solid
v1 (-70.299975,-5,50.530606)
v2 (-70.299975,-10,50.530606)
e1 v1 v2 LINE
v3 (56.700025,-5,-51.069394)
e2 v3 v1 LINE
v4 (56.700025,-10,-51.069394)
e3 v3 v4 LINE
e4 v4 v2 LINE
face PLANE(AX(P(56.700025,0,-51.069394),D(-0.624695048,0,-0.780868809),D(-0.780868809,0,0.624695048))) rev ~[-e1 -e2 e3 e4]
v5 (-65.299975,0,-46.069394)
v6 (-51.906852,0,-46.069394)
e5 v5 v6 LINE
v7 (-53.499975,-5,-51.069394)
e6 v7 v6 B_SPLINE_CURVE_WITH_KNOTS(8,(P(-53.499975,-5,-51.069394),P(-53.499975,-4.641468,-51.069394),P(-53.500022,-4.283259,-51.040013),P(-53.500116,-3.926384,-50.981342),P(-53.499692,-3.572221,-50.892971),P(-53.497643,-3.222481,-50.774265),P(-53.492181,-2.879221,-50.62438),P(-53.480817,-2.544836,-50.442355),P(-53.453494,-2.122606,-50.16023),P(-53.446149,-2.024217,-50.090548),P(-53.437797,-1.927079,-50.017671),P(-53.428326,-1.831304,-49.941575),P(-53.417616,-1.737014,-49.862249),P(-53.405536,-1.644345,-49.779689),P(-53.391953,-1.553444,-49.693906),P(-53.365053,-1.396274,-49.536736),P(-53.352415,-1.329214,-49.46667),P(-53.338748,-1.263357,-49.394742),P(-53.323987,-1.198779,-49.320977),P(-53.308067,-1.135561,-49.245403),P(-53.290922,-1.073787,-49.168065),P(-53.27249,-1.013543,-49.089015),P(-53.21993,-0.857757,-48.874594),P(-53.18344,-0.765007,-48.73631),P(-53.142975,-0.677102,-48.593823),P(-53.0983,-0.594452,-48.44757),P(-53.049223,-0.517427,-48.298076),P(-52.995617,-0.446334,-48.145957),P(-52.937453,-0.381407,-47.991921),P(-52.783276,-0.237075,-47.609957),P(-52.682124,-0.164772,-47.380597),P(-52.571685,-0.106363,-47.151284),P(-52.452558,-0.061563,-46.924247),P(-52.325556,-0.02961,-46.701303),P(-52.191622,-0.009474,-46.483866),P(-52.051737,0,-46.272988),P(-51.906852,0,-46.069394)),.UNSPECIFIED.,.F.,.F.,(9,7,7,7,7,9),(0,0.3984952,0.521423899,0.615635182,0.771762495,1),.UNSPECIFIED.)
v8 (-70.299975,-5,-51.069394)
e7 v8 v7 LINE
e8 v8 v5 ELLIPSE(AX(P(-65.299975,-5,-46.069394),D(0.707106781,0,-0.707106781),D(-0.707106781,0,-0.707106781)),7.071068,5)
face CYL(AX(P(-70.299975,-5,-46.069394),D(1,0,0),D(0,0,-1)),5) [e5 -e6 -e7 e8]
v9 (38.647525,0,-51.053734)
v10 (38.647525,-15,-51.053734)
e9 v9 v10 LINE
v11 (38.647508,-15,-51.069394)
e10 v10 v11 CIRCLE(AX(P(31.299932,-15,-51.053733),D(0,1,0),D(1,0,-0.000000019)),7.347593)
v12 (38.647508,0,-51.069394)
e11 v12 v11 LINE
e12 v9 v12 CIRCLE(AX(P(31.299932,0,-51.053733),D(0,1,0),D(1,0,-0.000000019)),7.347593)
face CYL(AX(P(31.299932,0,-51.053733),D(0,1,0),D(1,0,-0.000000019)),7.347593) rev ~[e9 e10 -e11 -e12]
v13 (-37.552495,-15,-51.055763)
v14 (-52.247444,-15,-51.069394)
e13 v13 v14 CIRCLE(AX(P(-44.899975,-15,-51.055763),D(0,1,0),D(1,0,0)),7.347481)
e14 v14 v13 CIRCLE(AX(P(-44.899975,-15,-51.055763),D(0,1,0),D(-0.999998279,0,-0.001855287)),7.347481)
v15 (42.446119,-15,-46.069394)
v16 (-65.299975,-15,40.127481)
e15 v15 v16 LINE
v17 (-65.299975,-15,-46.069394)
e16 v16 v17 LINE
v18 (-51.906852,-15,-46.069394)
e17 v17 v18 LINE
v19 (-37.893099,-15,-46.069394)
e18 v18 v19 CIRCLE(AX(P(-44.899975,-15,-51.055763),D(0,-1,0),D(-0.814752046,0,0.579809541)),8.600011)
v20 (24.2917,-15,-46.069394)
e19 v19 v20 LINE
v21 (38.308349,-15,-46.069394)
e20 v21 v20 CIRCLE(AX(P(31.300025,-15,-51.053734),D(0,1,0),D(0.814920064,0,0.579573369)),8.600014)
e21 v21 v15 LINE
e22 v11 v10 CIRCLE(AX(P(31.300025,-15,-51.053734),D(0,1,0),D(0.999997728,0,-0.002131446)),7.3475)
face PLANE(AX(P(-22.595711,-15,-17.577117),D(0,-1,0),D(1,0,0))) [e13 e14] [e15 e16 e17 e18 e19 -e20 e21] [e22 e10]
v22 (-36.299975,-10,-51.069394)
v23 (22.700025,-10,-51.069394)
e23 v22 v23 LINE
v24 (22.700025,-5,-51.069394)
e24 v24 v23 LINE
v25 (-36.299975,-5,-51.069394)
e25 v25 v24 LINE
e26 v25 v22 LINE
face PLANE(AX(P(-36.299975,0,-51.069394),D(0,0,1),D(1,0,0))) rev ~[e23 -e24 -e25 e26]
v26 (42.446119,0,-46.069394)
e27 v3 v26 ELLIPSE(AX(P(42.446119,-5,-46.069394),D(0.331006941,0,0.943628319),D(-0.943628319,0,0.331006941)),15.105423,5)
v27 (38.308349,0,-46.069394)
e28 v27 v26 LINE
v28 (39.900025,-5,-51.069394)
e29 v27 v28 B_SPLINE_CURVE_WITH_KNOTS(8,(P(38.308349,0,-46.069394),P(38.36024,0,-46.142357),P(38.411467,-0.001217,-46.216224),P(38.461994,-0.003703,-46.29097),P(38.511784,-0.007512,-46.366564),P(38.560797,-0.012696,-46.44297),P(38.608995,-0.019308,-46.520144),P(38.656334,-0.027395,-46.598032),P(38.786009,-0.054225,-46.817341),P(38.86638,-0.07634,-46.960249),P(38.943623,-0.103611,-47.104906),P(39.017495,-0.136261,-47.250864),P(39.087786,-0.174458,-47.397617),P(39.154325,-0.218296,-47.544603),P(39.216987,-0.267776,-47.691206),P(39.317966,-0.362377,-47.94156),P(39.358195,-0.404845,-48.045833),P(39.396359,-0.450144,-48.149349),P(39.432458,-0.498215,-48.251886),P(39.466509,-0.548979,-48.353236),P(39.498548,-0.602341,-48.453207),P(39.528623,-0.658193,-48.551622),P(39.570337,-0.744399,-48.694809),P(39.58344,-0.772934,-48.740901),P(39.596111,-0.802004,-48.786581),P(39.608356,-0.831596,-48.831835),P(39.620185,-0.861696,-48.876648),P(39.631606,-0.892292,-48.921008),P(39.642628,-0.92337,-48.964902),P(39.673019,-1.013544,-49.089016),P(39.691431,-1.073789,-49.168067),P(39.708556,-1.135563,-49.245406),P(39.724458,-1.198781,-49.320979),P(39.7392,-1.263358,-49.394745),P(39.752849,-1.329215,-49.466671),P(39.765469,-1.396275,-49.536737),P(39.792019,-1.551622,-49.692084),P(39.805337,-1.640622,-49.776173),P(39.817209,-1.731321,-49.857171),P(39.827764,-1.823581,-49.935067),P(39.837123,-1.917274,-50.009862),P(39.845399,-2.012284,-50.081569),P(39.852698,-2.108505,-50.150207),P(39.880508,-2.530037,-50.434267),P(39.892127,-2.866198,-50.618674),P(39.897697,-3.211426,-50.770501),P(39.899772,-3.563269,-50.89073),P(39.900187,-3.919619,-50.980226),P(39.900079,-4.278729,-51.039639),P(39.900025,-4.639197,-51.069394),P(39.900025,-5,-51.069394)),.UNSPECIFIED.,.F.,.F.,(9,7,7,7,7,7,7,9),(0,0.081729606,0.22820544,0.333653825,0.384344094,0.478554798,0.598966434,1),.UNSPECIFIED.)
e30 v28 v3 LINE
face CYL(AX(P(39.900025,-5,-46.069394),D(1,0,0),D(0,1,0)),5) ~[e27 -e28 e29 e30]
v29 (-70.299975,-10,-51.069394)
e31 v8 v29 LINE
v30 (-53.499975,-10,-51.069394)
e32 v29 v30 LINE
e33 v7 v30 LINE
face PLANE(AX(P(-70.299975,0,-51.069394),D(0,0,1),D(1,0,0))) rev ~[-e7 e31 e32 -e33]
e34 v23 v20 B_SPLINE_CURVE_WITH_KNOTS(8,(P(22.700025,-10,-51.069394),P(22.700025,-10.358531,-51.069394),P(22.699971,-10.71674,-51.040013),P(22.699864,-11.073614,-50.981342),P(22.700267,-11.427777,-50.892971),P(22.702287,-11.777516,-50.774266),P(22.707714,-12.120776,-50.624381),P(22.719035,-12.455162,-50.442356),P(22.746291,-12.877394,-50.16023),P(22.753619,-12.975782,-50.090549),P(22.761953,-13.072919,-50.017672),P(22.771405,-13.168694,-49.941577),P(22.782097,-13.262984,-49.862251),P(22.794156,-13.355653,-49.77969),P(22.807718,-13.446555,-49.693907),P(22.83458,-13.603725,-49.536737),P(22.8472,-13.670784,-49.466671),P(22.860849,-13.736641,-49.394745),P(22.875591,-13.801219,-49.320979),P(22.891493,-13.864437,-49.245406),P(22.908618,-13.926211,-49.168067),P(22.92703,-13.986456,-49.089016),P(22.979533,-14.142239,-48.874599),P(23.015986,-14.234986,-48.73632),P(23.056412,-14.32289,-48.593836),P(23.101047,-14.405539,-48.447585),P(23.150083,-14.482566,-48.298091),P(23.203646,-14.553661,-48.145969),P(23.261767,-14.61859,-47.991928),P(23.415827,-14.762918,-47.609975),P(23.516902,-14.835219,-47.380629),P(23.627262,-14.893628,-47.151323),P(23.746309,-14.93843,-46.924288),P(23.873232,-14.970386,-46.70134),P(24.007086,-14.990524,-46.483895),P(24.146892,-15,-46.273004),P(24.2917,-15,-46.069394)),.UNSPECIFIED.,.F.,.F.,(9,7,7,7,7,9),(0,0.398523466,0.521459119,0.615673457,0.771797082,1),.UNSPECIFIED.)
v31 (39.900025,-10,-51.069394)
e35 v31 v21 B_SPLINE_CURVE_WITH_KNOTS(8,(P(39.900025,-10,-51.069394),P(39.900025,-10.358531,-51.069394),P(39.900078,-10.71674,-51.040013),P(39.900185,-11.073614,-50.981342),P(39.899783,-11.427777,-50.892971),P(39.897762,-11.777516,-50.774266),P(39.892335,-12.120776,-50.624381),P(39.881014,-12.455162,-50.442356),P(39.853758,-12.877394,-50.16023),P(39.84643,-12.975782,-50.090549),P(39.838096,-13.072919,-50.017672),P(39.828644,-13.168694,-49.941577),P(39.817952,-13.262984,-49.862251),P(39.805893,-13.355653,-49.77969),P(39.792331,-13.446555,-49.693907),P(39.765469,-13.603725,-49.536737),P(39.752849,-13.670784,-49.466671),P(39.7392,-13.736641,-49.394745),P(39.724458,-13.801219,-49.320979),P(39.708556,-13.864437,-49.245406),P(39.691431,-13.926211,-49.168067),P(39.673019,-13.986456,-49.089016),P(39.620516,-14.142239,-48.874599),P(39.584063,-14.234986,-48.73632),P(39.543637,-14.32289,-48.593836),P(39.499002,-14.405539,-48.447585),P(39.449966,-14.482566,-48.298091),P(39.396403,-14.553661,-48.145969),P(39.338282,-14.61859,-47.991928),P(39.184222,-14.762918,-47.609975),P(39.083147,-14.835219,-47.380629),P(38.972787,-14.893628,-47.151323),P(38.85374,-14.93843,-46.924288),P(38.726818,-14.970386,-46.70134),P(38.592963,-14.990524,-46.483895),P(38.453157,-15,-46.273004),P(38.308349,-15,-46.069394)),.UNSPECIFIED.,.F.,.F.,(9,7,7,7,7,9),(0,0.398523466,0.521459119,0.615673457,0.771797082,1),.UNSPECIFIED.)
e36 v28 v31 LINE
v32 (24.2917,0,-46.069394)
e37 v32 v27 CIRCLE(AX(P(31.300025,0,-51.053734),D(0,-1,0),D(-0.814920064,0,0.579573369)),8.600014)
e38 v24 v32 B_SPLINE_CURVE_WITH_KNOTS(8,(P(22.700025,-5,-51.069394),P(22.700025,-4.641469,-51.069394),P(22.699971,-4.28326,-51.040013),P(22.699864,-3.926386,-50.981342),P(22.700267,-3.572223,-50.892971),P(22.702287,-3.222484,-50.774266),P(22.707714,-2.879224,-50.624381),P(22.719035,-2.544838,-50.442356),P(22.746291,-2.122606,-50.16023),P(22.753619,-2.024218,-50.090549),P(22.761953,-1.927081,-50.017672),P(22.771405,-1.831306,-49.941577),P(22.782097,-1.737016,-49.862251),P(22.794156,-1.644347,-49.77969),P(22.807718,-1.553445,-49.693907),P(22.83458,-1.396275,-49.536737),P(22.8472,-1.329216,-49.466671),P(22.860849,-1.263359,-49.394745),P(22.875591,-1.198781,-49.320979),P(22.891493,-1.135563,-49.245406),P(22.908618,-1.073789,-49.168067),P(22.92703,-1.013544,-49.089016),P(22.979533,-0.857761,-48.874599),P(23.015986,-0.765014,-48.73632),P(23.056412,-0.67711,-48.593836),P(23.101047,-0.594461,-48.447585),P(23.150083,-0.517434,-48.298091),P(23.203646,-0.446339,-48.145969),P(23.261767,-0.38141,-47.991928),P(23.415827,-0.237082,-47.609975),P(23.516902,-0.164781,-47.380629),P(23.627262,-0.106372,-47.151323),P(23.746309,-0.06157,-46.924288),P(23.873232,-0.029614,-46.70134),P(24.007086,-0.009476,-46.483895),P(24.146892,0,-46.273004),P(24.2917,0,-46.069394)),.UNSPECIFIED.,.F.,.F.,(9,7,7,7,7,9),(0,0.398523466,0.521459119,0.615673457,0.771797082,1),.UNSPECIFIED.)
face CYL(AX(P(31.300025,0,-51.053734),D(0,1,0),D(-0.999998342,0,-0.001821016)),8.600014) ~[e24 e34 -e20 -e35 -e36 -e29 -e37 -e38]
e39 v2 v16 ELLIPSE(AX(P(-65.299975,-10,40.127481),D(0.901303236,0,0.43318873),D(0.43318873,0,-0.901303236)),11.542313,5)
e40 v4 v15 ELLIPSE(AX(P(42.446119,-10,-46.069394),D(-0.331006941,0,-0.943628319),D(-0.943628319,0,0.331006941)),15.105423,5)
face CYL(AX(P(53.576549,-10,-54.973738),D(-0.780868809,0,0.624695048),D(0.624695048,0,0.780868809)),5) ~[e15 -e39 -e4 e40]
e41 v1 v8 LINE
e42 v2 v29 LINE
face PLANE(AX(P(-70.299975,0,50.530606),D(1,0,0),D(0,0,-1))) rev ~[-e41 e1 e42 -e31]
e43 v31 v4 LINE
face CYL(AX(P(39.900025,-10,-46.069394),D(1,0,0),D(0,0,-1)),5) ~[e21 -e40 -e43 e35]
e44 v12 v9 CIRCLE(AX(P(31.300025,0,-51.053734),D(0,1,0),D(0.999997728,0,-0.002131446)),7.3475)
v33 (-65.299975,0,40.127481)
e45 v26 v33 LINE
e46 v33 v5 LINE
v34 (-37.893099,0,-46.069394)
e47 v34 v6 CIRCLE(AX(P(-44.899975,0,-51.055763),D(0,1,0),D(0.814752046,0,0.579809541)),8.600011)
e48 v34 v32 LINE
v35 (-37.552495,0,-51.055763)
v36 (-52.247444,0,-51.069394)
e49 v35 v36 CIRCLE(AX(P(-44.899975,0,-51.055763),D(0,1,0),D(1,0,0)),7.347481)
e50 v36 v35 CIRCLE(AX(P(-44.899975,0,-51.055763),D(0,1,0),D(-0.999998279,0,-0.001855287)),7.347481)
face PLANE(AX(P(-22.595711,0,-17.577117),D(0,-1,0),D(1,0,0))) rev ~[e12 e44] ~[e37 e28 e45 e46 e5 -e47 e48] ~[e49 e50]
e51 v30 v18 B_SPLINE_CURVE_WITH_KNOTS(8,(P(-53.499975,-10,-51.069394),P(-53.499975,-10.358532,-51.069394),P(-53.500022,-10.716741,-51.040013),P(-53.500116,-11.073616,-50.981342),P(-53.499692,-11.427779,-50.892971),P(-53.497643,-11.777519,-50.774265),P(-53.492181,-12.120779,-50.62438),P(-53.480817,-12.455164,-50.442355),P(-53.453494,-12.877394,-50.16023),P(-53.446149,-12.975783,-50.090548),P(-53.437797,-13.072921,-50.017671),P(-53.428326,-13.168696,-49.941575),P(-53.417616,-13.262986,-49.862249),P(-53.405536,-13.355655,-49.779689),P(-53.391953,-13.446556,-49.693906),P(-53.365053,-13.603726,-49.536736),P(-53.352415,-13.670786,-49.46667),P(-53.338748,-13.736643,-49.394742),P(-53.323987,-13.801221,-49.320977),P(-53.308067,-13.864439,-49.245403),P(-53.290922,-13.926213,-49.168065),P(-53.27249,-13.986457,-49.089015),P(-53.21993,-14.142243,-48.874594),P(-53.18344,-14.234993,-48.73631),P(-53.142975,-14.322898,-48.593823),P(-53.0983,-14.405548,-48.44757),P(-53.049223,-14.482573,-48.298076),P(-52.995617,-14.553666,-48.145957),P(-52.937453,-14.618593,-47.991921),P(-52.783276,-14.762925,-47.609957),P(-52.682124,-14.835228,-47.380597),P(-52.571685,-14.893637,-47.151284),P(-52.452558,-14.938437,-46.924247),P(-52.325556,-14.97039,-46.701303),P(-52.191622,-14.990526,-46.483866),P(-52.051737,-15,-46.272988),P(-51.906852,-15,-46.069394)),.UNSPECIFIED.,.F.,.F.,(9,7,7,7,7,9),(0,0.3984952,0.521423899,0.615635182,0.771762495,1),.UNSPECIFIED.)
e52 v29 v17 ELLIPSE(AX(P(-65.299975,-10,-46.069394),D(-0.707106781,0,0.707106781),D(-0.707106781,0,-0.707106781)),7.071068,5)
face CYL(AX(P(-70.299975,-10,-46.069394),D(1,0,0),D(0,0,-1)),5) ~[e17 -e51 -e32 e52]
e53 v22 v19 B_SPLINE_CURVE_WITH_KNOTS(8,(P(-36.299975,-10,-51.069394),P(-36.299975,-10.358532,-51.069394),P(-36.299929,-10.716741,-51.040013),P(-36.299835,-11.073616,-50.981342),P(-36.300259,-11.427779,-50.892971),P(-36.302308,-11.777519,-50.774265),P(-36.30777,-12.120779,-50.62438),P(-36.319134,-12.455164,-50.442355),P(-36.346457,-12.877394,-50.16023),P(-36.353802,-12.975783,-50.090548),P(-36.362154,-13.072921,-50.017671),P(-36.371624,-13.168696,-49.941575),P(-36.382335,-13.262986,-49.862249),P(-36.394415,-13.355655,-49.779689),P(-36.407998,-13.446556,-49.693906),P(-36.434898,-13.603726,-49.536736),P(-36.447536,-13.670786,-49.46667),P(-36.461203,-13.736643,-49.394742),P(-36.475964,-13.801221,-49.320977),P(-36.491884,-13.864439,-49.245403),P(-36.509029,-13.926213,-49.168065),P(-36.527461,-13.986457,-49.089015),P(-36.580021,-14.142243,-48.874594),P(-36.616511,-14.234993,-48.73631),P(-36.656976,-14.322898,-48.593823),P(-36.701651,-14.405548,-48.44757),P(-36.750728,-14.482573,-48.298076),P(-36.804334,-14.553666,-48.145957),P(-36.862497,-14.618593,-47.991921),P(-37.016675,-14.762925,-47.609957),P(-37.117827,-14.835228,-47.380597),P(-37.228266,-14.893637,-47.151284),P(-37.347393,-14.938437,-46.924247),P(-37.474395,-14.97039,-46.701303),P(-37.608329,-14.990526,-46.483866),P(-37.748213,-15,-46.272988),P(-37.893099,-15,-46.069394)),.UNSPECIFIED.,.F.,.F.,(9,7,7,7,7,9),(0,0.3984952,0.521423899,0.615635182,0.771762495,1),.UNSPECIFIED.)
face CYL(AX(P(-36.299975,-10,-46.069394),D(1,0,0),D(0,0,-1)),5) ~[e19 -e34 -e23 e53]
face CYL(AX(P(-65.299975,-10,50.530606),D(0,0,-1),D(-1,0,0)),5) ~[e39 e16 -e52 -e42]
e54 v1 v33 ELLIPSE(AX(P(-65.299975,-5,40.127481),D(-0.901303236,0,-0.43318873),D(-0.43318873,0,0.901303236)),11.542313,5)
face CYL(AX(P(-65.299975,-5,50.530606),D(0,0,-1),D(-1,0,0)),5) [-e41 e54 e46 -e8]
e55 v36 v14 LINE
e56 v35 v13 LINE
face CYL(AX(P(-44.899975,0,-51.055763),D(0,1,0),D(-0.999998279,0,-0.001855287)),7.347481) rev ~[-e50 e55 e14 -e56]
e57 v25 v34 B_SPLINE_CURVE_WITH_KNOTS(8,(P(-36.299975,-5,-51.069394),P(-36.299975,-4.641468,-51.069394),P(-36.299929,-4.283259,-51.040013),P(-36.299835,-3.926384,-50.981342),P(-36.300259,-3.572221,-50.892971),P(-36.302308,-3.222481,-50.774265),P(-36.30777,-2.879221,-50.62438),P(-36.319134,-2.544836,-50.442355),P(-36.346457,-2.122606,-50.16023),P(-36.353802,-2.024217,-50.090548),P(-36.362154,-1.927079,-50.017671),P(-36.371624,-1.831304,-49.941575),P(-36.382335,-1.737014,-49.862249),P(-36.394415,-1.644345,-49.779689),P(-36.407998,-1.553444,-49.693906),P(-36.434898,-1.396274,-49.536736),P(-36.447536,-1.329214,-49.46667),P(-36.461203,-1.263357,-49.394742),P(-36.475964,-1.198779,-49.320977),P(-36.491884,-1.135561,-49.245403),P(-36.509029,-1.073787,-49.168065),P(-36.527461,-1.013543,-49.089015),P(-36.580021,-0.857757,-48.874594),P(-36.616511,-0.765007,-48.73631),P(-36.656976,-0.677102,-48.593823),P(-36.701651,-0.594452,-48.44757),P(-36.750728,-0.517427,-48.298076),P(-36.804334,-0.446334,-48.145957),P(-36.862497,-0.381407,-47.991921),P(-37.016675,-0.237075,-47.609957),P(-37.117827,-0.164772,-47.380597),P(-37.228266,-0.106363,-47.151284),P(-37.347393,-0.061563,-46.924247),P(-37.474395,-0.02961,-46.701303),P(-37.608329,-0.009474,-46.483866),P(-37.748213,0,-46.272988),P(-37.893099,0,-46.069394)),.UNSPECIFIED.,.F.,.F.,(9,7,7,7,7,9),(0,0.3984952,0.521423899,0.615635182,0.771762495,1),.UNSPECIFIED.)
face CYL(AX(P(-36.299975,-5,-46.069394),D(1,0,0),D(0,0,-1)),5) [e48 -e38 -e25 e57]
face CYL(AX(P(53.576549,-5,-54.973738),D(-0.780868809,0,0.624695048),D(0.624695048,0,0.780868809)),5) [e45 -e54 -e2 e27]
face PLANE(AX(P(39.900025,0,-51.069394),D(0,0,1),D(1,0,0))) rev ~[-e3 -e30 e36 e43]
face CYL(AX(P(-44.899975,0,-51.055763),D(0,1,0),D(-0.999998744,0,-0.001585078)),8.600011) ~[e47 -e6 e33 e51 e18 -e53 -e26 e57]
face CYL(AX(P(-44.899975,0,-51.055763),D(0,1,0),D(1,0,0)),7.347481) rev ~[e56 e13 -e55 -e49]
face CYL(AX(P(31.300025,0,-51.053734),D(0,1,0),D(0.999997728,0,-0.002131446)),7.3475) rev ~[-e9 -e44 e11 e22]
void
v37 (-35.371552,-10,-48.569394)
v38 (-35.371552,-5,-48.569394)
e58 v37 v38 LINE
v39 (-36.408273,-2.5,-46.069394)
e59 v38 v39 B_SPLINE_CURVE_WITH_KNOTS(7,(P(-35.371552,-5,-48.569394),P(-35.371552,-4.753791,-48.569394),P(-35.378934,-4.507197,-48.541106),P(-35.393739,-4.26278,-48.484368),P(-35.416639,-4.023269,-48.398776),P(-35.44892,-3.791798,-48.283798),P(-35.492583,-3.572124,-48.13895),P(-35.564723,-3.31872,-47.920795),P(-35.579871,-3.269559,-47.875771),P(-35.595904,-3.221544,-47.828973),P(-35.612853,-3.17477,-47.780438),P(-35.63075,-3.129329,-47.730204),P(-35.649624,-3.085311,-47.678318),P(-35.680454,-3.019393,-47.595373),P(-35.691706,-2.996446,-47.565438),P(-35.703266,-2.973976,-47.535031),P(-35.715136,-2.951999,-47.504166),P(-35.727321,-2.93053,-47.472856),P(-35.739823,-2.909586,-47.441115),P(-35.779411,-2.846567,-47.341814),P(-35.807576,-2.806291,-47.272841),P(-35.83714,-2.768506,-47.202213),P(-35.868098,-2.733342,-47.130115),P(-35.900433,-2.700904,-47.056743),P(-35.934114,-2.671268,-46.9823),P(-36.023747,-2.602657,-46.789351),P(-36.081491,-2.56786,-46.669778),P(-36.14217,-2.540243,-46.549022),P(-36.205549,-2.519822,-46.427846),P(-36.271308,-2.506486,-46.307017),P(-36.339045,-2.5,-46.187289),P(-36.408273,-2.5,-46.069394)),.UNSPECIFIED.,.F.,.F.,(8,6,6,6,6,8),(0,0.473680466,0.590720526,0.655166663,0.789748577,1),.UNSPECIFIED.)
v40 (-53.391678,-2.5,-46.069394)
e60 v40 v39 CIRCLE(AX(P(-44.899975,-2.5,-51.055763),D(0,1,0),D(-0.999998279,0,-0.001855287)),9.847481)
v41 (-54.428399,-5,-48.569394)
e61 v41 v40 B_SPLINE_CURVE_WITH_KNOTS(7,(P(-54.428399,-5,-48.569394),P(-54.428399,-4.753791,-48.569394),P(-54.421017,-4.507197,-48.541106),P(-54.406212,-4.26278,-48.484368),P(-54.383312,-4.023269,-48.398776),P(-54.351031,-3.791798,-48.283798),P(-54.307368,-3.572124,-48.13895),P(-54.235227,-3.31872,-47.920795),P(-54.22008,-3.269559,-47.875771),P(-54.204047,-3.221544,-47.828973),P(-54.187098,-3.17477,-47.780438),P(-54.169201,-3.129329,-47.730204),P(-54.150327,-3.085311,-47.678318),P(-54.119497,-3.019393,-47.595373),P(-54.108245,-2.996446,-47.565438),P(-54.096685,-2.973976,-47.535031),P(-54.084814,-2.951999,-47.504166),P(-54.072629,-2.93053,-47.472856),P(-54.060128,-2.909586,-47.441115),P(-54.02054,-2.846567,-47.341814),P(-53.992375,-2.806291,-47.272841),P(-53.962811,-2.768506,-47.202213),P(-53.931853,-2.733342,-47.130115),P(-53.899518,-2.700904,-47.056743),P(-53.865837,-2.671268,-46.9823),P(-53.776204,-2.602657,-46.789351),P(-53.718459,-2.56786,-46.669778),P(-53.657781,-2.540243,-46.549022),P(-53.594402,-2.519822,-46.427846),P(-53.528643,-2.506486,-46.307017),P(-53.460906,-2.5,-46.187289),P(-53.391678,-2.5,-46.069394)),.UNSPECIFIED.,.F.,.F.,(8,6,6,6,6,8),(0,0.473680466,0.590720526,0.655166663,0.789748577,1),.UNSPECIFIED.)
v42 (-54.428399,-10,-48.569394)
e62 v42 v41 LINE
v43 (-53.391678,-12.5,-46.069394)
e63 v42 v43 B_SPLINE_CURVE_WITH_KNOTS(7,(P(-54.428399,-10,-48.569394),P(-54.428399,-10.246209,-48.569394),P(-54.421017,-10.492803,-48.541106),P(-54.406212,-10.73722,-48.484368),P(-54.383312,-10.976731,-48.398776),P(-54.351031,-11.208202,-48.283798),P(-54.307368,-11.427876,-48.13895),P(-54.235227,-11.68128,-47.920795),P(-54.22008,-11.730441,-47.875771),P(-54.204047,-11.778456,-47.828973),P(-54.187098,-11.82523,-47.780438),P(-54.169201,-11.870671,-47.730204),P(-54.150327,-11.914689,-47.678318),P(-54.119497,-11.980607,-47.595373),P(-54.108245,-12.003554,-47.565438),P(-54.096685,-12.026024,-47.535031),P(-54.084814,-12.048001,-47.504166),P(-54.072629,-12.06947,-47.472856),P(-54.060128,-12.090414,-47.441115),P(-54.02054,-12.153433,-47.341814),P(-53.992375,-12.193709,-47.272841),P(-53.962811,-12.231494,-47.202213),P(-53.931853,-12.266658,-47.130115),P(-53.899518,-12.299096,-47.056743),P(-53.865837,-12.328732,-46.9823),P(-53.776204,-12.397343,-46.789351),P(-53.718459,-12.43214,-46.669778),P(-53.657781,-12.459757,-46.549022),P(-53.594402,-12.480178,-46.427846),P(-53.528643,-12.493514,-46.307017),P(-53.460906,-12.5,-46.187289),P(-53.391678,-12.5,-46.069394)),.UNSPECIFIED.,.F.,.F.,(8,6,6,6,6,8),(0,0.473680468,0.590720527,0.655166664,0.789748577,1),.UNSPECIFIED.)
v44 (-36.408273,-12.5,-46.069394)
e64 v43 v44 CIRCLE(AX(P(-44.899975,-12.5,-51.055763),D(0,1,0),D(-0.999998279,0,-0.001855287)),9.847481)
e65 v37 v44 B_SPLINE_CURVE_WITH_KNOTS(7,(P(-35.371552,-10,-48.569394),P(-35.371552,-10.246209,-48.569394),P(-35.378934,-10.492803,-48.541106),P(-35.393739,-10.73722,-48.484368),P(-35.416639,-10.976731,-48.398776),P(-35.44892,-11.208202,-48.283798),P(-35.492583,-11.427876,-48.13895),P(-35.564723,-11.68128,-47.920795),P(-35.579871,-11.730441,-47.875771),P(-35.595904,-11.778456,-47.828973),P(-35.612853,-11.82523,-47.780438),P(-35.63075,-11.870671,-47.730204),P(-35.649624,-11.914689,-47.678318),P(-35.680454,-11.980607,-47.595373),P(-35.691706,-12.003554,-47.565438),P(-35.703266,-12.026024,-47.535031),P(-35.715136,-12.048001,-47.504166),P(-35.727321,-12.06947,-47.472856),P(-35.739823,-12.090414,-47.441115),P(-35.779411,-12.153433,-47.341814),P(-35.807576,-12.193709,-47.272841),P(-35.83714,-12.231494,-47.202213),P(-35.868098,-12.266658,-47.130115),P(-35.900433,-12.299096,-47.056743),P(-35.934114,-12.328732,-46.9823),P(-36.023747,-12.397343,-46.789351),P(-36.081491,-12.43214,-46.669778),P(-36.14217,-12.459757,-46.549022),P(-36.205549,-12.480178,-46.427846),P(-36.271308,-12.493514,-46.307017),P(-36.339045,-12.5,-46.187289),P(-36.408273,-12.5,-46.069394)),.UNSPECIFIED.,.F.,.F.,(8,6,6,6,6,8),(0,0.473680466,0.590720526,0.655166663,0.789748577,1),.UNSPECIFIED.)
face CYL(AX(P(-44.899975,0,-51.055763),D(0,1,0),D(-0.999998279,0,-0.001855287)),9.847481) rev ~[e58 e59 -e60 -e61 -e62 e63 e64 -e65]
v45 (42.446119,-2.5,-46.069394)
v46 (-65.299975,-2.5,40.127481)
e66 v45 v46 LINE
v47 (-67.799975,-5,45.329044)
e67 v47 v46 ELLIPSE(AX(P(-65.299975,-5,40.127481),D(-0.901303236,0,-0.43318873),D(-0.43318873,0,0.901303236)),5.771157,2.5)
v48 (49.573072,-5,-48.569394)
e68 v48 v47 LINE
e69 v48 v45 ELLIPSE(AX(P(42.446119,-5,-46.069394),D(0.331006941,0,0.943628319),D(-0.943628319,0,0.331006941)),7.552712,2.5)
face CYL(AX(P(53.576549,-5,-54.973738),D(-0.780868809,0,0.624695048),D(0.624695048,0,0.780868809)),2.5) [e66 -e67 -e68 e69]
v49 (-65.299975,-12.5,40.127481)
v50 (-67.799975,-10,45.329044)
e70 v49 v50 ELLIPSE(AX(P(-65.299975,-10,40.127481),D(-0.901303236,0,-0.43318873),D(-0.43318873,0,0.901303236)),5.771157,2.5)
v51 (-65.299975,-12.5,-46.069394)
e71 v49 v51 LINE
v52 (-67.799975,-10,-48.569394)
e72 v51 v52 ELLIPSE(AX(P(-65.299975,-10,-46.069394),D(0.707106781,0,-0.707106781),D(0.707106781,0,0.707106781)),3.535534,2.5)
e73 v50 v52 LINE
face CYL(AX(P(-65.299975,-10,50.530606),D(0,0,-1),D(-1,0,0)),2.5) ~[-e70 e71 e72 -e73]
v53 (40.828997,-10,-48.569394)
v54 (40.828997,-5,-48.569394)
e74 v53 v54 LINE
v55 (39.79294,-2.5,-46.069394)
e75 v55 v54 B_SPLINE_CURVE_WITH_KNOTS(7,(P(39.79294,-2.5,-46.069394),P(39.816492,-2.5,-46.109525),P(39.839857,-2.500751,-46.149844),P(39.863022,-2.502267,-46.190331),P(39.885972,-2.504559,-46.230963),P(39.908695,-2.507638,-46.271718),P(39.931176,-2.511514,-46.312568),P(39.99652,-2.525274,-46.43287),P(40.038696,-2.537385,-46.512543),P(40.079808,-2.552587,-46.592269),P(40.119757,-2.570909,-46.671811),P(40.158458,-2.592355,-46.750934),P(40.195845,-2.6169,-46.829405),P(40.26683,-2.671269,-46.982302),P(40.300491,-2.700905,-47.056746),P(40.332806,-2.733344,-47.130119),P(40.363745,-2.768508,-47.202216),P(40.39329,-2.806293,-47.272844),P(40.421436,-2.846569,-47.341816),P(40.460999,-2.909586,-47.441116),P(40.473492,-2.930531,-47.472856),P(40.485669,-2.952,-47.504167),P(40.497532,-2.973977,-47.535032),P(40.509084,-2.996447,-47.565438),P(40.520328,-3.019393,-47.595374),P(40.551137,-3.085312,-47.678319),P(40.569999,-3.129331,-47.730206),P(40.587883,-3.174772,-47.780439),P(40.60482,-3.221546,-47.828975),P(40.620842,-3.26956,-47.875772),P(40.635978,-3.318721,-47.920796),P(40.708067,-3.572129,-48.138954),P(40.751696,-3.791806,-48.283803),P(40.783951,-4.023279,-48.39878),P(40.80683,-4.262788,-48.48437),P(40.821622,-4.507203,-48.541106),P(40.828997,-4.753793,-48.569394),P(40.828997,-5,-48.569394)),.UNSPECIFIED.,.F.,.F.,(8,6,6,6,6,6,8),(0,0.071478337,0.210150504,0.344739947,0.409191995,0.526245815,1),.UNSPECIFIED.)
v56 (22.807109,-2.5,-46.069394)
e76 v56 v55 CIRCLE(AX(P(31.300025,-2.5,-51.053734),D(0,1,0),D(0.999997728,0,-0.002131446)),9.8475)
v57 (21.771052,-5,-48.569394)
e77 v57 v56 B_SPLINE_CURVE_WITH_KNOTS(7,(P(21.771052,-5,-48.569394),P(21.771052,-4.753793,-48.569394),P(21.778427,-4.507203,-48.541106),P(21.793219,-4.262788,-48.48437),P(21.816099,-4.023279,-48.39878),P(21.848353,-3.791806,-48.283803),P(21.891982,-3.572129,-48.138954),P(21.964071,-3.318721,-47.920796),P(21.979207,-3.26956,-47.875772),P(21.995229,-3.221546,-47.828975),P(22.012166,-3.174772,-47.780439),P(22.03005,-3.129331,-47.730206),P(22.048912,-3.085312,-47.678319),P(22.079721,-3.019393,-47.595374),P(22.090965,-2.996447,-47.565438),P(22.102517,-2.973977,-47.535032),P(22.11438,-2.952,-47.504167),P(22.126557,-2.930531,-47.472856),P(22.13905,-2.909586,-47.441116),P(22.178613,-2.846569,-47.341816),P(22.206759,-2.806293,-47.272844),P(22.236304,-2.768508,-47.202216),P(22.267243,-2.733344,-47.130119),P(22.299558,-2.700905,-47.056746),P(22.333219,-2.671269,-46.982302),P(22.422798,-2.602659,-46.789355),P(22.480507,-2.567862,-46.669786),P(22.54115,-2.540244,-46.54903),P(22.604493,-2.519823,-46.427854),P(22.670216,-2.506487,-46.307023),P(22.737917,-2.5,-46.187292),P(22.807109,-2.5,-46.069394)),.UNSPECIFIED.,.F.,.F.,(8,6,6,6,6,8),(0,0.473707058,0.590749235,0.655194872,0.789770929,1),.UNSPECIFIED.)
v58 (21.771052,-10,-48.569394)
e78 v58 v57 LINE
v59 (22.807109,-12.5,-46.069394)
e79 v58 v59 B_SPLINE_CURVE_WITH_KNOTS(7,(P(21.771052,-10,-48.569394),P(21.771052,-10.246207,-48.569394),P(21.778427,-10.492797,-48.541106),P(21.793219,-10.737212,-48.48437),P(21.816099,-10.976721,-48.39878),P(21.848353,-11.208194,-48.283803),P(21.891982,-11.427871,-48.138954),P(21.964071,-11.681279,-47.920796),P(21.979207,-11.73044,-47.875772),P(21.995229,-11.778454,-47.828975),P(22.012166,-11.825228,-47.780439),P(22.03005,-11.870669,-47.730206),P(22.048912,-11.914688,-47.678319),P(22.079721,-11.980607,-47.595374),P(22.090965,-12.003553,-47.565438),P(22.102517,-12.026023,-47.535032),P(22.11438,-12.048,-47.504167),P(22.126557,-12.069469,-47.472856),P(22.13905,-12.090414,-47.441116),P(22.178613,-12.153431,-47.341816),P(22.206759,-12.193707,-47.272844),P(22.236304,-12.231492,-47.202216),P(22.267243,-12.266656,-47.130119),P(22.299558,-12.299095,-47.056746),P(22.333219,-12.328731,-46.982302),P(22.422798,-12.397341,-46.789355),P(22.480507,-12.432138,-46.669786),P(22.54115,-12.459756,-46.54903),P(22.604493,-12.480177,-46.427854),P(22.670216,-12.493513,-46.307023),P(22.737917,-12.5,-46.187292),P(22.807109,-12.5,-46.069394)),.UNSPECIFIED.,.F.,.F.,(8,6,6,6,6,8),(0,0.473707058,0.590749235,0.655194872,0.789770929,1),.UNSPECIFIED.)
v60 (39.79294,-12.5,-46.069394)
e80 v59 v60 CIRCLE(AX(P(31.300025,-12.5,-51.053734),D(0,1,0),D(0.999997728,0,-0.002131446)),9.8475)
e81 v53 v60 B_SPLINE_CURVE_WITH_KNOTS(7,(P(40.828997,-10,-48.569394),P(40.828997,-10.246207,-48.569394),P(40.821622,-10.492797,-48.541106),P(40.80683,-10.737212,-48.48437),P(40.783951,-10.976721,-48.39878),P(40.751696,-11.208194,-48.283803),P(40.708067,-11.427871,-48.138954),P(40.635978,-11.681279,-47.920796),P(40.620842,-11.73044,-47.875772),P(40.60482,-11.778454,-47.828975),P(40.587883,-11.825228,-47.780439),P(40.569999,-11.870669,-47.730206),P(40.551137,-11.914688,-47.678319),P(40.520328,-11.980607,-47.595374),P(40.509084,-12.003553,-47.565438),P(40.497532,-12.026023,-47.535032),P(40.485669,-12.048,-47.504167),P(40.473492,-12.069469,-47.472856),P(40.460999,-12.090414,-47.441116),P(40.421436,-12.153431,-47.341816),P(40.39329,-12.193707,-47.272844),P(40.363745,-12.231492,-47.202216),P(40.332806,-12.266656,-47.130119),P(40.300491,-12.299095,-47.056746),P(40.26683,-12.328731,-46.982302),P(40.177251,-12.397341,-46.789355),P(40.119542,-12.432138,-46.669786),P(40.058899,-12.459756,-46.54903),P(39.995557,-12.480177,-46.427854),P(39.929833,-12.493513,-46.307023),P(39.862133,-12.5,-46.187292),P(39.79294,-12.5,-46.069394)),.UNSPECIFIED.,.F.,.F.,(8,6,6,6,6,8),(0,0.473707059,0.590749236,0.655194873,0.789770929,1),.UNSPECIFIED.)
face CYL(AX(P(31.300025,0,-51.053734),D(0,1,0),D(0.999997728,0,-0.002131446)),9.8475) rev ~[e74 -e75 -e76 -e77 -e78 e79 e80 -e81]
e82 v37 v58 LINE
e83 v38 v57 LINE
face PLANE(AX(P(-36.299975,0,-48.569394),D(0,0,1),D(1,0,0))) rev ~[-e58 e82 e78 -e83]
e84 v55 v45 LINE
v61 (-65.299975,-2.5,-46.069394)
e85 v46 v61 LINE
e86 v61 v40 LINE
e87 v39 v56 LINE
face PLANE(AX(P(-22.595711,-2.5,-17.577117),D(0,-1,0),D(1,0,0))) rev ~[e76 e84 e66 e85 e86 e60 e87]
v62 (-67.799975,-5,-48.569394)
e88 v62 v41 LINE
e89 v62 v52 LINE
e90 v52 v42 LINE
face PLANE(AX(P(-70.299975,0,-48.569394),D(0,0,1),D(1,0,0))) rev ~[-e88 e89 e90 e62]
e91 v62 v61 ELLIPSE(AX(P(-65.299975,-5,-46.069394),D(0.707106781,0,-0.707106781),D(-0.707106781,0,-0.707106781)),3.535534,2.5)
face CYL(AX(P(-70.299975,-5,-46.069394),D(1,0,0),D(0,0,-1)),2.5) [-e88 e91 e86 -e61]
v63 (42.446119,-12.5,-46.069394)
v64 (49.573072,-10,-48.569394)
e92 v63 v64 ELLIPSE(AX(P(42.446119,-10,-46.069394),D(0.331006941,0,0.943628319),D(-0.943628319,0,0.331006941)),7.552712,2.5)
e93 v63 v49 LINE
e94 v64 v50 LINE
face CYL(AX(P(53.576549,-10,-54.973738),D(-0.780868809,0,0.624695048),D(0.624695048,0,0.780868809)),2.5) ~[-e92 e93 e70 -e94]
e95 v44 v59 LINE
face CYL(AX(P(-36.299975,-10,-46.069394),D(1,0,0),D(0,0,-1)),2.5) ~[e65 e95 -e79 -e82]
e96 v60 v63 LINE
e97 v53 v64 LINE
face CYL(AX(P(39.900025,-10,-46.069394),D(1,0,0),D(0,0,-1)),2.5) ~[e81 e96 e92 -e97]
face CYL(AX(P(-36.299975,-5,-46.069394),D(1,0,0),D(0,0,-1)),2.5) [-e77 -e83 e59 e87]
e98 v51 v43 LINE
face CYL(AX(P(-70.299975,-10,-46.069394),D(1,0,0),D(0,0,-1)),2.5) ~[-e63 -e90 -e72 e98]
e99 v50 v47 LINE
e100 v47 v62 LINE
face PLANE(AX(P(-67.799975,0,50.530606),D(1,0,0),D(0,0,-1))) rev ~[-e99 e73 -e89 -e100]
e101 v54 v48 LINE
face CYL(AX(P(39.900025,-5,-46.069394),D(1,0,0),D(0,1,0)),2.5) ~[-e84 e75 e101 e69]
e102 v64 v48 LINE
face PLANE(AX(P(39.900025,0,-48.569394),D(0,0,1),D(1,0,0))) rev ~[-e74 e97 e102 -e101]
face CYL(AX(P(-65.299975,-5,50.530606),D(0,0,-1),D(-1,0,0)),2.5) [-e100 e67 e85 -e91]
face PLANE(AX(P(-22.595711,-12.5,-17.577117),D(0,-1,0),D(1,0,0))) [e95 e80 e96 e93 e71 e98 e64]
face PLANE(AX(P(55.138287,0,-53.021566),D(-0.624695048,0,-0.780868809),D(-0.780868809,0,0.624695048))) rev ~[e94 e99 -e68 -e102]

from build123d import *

# Parameters (mm, degrees)
F1_DEPTH = 15
F2_R     = 5
F3_R     = 5
F4_T     = -2.5


with BuildPart() as f1:
    # F0 (on Front) → F1 (new body)
    with BuildSketch(Plane.XZ):
        with BuildLine():
            Line((56.7000245671, -51.0693943679), (-70.2999754329, 50.5306056321))
            Line((-70.2999754329, 50.5306056321), (-70.2999754329, -51.0693943679))
            Line((-70.2999754329, -51.0693943679), (-53.4999754329, -51.0693943679))
            ThreePointArc((-53.4999754329, -51.0693943679), (-44.8999754329, -42.4693943679), (-36.2999754329, -51.0693943679))
            Line((-36.2999754329, -51.0693943679), (22.7000245671, -51.0693943679))
            ThreePointArc((22.7000245671, -51.0693943679), (31.3000245671, -42.4693943679), (39.9000245671, -51.0693943679))
            Line((39.9000245671, -51.0693943679), (56.7000245671, -51.0693943679))
        make_face()
        with BuildLine():
            ThreePointArc((-36.2999754329, -51.0693943679), (-44.8999754329, -42.4693943679), (-53.4999754329, -51.0693943679))
            ThreePointArc((-53.4999754329, -51.0693943679), (-44.8999754329, -59.6557734847), (-36.2999754329, -51.0693943679))
        make_face()
        with BuildLine():
            ThreePointArc((-37.5524947041, -51.0557626811), (-44.8931595866, -58.4032402486), (-52.2474435165, -51.0693943679))
            ThreePointArc((-52.2474435165, -51.0693943679), (-44.9067912793, -43.7082851136), (-37.5524947041, -51.0557626811))
        make_face(mode=Mode.SUBTRACT)
        with BuildLine():
            ThreePointArc((22.7000245671, -51.0693943679), (31.3000245671, -59.6537478643), (39.9000245671, -51.0693943679))
            ThreePointArc((39.9000245671, -51.0693943679), (31.3000245671, -42.4693943679), (22.7000245671, -51.0693943679))
        make_face()
        with BuildLine():
            ThreePointArc((38.6475245671, -51.053733605), (38.6475203945, -51.0615639909), (38.647507877, -51.0693943679))
            ThreePointArc((38.647507877, -51.0693943679), (23.9525287396, -51.0459032191), (38.6475245671, -51.053733605))
        make_face(mode=Mode.SUBTRACT)
    extrude(amount=F1_DEPTH)

    # F2
    f2_edges = [f1.edges().sort_by_distance(p)[0] for p in [
        (-70.299975, -15, -0.269394),
        (-6.799975, -15, -0.269394),
        (-6.799975, -15, -51.069394),
        (-61.899975, -15, -51.069394),
        (48.300025, -15, -51.069394),
    ]]
    fillet(f2_edges, radius=F2_R)

    # F3
    f3_edges = [f1.edges().sort_by_distance(p)[0] for p in [
        (-6.799975, 0, -0.269394),
        (-6.799975, 0, -51.069394),
        (48.300025, 0, -51.069394),
        (-70.299975, 0, -0.269394),
        (-61.899975, 0, -51.069394),
    ]]
    fillet(f3_edges, radius=F3_R)

    # F4 (hollow: no face is removed)
    offset(amount=F4_T, mode=Mode.SUBTRACT)


solid = f1.part
